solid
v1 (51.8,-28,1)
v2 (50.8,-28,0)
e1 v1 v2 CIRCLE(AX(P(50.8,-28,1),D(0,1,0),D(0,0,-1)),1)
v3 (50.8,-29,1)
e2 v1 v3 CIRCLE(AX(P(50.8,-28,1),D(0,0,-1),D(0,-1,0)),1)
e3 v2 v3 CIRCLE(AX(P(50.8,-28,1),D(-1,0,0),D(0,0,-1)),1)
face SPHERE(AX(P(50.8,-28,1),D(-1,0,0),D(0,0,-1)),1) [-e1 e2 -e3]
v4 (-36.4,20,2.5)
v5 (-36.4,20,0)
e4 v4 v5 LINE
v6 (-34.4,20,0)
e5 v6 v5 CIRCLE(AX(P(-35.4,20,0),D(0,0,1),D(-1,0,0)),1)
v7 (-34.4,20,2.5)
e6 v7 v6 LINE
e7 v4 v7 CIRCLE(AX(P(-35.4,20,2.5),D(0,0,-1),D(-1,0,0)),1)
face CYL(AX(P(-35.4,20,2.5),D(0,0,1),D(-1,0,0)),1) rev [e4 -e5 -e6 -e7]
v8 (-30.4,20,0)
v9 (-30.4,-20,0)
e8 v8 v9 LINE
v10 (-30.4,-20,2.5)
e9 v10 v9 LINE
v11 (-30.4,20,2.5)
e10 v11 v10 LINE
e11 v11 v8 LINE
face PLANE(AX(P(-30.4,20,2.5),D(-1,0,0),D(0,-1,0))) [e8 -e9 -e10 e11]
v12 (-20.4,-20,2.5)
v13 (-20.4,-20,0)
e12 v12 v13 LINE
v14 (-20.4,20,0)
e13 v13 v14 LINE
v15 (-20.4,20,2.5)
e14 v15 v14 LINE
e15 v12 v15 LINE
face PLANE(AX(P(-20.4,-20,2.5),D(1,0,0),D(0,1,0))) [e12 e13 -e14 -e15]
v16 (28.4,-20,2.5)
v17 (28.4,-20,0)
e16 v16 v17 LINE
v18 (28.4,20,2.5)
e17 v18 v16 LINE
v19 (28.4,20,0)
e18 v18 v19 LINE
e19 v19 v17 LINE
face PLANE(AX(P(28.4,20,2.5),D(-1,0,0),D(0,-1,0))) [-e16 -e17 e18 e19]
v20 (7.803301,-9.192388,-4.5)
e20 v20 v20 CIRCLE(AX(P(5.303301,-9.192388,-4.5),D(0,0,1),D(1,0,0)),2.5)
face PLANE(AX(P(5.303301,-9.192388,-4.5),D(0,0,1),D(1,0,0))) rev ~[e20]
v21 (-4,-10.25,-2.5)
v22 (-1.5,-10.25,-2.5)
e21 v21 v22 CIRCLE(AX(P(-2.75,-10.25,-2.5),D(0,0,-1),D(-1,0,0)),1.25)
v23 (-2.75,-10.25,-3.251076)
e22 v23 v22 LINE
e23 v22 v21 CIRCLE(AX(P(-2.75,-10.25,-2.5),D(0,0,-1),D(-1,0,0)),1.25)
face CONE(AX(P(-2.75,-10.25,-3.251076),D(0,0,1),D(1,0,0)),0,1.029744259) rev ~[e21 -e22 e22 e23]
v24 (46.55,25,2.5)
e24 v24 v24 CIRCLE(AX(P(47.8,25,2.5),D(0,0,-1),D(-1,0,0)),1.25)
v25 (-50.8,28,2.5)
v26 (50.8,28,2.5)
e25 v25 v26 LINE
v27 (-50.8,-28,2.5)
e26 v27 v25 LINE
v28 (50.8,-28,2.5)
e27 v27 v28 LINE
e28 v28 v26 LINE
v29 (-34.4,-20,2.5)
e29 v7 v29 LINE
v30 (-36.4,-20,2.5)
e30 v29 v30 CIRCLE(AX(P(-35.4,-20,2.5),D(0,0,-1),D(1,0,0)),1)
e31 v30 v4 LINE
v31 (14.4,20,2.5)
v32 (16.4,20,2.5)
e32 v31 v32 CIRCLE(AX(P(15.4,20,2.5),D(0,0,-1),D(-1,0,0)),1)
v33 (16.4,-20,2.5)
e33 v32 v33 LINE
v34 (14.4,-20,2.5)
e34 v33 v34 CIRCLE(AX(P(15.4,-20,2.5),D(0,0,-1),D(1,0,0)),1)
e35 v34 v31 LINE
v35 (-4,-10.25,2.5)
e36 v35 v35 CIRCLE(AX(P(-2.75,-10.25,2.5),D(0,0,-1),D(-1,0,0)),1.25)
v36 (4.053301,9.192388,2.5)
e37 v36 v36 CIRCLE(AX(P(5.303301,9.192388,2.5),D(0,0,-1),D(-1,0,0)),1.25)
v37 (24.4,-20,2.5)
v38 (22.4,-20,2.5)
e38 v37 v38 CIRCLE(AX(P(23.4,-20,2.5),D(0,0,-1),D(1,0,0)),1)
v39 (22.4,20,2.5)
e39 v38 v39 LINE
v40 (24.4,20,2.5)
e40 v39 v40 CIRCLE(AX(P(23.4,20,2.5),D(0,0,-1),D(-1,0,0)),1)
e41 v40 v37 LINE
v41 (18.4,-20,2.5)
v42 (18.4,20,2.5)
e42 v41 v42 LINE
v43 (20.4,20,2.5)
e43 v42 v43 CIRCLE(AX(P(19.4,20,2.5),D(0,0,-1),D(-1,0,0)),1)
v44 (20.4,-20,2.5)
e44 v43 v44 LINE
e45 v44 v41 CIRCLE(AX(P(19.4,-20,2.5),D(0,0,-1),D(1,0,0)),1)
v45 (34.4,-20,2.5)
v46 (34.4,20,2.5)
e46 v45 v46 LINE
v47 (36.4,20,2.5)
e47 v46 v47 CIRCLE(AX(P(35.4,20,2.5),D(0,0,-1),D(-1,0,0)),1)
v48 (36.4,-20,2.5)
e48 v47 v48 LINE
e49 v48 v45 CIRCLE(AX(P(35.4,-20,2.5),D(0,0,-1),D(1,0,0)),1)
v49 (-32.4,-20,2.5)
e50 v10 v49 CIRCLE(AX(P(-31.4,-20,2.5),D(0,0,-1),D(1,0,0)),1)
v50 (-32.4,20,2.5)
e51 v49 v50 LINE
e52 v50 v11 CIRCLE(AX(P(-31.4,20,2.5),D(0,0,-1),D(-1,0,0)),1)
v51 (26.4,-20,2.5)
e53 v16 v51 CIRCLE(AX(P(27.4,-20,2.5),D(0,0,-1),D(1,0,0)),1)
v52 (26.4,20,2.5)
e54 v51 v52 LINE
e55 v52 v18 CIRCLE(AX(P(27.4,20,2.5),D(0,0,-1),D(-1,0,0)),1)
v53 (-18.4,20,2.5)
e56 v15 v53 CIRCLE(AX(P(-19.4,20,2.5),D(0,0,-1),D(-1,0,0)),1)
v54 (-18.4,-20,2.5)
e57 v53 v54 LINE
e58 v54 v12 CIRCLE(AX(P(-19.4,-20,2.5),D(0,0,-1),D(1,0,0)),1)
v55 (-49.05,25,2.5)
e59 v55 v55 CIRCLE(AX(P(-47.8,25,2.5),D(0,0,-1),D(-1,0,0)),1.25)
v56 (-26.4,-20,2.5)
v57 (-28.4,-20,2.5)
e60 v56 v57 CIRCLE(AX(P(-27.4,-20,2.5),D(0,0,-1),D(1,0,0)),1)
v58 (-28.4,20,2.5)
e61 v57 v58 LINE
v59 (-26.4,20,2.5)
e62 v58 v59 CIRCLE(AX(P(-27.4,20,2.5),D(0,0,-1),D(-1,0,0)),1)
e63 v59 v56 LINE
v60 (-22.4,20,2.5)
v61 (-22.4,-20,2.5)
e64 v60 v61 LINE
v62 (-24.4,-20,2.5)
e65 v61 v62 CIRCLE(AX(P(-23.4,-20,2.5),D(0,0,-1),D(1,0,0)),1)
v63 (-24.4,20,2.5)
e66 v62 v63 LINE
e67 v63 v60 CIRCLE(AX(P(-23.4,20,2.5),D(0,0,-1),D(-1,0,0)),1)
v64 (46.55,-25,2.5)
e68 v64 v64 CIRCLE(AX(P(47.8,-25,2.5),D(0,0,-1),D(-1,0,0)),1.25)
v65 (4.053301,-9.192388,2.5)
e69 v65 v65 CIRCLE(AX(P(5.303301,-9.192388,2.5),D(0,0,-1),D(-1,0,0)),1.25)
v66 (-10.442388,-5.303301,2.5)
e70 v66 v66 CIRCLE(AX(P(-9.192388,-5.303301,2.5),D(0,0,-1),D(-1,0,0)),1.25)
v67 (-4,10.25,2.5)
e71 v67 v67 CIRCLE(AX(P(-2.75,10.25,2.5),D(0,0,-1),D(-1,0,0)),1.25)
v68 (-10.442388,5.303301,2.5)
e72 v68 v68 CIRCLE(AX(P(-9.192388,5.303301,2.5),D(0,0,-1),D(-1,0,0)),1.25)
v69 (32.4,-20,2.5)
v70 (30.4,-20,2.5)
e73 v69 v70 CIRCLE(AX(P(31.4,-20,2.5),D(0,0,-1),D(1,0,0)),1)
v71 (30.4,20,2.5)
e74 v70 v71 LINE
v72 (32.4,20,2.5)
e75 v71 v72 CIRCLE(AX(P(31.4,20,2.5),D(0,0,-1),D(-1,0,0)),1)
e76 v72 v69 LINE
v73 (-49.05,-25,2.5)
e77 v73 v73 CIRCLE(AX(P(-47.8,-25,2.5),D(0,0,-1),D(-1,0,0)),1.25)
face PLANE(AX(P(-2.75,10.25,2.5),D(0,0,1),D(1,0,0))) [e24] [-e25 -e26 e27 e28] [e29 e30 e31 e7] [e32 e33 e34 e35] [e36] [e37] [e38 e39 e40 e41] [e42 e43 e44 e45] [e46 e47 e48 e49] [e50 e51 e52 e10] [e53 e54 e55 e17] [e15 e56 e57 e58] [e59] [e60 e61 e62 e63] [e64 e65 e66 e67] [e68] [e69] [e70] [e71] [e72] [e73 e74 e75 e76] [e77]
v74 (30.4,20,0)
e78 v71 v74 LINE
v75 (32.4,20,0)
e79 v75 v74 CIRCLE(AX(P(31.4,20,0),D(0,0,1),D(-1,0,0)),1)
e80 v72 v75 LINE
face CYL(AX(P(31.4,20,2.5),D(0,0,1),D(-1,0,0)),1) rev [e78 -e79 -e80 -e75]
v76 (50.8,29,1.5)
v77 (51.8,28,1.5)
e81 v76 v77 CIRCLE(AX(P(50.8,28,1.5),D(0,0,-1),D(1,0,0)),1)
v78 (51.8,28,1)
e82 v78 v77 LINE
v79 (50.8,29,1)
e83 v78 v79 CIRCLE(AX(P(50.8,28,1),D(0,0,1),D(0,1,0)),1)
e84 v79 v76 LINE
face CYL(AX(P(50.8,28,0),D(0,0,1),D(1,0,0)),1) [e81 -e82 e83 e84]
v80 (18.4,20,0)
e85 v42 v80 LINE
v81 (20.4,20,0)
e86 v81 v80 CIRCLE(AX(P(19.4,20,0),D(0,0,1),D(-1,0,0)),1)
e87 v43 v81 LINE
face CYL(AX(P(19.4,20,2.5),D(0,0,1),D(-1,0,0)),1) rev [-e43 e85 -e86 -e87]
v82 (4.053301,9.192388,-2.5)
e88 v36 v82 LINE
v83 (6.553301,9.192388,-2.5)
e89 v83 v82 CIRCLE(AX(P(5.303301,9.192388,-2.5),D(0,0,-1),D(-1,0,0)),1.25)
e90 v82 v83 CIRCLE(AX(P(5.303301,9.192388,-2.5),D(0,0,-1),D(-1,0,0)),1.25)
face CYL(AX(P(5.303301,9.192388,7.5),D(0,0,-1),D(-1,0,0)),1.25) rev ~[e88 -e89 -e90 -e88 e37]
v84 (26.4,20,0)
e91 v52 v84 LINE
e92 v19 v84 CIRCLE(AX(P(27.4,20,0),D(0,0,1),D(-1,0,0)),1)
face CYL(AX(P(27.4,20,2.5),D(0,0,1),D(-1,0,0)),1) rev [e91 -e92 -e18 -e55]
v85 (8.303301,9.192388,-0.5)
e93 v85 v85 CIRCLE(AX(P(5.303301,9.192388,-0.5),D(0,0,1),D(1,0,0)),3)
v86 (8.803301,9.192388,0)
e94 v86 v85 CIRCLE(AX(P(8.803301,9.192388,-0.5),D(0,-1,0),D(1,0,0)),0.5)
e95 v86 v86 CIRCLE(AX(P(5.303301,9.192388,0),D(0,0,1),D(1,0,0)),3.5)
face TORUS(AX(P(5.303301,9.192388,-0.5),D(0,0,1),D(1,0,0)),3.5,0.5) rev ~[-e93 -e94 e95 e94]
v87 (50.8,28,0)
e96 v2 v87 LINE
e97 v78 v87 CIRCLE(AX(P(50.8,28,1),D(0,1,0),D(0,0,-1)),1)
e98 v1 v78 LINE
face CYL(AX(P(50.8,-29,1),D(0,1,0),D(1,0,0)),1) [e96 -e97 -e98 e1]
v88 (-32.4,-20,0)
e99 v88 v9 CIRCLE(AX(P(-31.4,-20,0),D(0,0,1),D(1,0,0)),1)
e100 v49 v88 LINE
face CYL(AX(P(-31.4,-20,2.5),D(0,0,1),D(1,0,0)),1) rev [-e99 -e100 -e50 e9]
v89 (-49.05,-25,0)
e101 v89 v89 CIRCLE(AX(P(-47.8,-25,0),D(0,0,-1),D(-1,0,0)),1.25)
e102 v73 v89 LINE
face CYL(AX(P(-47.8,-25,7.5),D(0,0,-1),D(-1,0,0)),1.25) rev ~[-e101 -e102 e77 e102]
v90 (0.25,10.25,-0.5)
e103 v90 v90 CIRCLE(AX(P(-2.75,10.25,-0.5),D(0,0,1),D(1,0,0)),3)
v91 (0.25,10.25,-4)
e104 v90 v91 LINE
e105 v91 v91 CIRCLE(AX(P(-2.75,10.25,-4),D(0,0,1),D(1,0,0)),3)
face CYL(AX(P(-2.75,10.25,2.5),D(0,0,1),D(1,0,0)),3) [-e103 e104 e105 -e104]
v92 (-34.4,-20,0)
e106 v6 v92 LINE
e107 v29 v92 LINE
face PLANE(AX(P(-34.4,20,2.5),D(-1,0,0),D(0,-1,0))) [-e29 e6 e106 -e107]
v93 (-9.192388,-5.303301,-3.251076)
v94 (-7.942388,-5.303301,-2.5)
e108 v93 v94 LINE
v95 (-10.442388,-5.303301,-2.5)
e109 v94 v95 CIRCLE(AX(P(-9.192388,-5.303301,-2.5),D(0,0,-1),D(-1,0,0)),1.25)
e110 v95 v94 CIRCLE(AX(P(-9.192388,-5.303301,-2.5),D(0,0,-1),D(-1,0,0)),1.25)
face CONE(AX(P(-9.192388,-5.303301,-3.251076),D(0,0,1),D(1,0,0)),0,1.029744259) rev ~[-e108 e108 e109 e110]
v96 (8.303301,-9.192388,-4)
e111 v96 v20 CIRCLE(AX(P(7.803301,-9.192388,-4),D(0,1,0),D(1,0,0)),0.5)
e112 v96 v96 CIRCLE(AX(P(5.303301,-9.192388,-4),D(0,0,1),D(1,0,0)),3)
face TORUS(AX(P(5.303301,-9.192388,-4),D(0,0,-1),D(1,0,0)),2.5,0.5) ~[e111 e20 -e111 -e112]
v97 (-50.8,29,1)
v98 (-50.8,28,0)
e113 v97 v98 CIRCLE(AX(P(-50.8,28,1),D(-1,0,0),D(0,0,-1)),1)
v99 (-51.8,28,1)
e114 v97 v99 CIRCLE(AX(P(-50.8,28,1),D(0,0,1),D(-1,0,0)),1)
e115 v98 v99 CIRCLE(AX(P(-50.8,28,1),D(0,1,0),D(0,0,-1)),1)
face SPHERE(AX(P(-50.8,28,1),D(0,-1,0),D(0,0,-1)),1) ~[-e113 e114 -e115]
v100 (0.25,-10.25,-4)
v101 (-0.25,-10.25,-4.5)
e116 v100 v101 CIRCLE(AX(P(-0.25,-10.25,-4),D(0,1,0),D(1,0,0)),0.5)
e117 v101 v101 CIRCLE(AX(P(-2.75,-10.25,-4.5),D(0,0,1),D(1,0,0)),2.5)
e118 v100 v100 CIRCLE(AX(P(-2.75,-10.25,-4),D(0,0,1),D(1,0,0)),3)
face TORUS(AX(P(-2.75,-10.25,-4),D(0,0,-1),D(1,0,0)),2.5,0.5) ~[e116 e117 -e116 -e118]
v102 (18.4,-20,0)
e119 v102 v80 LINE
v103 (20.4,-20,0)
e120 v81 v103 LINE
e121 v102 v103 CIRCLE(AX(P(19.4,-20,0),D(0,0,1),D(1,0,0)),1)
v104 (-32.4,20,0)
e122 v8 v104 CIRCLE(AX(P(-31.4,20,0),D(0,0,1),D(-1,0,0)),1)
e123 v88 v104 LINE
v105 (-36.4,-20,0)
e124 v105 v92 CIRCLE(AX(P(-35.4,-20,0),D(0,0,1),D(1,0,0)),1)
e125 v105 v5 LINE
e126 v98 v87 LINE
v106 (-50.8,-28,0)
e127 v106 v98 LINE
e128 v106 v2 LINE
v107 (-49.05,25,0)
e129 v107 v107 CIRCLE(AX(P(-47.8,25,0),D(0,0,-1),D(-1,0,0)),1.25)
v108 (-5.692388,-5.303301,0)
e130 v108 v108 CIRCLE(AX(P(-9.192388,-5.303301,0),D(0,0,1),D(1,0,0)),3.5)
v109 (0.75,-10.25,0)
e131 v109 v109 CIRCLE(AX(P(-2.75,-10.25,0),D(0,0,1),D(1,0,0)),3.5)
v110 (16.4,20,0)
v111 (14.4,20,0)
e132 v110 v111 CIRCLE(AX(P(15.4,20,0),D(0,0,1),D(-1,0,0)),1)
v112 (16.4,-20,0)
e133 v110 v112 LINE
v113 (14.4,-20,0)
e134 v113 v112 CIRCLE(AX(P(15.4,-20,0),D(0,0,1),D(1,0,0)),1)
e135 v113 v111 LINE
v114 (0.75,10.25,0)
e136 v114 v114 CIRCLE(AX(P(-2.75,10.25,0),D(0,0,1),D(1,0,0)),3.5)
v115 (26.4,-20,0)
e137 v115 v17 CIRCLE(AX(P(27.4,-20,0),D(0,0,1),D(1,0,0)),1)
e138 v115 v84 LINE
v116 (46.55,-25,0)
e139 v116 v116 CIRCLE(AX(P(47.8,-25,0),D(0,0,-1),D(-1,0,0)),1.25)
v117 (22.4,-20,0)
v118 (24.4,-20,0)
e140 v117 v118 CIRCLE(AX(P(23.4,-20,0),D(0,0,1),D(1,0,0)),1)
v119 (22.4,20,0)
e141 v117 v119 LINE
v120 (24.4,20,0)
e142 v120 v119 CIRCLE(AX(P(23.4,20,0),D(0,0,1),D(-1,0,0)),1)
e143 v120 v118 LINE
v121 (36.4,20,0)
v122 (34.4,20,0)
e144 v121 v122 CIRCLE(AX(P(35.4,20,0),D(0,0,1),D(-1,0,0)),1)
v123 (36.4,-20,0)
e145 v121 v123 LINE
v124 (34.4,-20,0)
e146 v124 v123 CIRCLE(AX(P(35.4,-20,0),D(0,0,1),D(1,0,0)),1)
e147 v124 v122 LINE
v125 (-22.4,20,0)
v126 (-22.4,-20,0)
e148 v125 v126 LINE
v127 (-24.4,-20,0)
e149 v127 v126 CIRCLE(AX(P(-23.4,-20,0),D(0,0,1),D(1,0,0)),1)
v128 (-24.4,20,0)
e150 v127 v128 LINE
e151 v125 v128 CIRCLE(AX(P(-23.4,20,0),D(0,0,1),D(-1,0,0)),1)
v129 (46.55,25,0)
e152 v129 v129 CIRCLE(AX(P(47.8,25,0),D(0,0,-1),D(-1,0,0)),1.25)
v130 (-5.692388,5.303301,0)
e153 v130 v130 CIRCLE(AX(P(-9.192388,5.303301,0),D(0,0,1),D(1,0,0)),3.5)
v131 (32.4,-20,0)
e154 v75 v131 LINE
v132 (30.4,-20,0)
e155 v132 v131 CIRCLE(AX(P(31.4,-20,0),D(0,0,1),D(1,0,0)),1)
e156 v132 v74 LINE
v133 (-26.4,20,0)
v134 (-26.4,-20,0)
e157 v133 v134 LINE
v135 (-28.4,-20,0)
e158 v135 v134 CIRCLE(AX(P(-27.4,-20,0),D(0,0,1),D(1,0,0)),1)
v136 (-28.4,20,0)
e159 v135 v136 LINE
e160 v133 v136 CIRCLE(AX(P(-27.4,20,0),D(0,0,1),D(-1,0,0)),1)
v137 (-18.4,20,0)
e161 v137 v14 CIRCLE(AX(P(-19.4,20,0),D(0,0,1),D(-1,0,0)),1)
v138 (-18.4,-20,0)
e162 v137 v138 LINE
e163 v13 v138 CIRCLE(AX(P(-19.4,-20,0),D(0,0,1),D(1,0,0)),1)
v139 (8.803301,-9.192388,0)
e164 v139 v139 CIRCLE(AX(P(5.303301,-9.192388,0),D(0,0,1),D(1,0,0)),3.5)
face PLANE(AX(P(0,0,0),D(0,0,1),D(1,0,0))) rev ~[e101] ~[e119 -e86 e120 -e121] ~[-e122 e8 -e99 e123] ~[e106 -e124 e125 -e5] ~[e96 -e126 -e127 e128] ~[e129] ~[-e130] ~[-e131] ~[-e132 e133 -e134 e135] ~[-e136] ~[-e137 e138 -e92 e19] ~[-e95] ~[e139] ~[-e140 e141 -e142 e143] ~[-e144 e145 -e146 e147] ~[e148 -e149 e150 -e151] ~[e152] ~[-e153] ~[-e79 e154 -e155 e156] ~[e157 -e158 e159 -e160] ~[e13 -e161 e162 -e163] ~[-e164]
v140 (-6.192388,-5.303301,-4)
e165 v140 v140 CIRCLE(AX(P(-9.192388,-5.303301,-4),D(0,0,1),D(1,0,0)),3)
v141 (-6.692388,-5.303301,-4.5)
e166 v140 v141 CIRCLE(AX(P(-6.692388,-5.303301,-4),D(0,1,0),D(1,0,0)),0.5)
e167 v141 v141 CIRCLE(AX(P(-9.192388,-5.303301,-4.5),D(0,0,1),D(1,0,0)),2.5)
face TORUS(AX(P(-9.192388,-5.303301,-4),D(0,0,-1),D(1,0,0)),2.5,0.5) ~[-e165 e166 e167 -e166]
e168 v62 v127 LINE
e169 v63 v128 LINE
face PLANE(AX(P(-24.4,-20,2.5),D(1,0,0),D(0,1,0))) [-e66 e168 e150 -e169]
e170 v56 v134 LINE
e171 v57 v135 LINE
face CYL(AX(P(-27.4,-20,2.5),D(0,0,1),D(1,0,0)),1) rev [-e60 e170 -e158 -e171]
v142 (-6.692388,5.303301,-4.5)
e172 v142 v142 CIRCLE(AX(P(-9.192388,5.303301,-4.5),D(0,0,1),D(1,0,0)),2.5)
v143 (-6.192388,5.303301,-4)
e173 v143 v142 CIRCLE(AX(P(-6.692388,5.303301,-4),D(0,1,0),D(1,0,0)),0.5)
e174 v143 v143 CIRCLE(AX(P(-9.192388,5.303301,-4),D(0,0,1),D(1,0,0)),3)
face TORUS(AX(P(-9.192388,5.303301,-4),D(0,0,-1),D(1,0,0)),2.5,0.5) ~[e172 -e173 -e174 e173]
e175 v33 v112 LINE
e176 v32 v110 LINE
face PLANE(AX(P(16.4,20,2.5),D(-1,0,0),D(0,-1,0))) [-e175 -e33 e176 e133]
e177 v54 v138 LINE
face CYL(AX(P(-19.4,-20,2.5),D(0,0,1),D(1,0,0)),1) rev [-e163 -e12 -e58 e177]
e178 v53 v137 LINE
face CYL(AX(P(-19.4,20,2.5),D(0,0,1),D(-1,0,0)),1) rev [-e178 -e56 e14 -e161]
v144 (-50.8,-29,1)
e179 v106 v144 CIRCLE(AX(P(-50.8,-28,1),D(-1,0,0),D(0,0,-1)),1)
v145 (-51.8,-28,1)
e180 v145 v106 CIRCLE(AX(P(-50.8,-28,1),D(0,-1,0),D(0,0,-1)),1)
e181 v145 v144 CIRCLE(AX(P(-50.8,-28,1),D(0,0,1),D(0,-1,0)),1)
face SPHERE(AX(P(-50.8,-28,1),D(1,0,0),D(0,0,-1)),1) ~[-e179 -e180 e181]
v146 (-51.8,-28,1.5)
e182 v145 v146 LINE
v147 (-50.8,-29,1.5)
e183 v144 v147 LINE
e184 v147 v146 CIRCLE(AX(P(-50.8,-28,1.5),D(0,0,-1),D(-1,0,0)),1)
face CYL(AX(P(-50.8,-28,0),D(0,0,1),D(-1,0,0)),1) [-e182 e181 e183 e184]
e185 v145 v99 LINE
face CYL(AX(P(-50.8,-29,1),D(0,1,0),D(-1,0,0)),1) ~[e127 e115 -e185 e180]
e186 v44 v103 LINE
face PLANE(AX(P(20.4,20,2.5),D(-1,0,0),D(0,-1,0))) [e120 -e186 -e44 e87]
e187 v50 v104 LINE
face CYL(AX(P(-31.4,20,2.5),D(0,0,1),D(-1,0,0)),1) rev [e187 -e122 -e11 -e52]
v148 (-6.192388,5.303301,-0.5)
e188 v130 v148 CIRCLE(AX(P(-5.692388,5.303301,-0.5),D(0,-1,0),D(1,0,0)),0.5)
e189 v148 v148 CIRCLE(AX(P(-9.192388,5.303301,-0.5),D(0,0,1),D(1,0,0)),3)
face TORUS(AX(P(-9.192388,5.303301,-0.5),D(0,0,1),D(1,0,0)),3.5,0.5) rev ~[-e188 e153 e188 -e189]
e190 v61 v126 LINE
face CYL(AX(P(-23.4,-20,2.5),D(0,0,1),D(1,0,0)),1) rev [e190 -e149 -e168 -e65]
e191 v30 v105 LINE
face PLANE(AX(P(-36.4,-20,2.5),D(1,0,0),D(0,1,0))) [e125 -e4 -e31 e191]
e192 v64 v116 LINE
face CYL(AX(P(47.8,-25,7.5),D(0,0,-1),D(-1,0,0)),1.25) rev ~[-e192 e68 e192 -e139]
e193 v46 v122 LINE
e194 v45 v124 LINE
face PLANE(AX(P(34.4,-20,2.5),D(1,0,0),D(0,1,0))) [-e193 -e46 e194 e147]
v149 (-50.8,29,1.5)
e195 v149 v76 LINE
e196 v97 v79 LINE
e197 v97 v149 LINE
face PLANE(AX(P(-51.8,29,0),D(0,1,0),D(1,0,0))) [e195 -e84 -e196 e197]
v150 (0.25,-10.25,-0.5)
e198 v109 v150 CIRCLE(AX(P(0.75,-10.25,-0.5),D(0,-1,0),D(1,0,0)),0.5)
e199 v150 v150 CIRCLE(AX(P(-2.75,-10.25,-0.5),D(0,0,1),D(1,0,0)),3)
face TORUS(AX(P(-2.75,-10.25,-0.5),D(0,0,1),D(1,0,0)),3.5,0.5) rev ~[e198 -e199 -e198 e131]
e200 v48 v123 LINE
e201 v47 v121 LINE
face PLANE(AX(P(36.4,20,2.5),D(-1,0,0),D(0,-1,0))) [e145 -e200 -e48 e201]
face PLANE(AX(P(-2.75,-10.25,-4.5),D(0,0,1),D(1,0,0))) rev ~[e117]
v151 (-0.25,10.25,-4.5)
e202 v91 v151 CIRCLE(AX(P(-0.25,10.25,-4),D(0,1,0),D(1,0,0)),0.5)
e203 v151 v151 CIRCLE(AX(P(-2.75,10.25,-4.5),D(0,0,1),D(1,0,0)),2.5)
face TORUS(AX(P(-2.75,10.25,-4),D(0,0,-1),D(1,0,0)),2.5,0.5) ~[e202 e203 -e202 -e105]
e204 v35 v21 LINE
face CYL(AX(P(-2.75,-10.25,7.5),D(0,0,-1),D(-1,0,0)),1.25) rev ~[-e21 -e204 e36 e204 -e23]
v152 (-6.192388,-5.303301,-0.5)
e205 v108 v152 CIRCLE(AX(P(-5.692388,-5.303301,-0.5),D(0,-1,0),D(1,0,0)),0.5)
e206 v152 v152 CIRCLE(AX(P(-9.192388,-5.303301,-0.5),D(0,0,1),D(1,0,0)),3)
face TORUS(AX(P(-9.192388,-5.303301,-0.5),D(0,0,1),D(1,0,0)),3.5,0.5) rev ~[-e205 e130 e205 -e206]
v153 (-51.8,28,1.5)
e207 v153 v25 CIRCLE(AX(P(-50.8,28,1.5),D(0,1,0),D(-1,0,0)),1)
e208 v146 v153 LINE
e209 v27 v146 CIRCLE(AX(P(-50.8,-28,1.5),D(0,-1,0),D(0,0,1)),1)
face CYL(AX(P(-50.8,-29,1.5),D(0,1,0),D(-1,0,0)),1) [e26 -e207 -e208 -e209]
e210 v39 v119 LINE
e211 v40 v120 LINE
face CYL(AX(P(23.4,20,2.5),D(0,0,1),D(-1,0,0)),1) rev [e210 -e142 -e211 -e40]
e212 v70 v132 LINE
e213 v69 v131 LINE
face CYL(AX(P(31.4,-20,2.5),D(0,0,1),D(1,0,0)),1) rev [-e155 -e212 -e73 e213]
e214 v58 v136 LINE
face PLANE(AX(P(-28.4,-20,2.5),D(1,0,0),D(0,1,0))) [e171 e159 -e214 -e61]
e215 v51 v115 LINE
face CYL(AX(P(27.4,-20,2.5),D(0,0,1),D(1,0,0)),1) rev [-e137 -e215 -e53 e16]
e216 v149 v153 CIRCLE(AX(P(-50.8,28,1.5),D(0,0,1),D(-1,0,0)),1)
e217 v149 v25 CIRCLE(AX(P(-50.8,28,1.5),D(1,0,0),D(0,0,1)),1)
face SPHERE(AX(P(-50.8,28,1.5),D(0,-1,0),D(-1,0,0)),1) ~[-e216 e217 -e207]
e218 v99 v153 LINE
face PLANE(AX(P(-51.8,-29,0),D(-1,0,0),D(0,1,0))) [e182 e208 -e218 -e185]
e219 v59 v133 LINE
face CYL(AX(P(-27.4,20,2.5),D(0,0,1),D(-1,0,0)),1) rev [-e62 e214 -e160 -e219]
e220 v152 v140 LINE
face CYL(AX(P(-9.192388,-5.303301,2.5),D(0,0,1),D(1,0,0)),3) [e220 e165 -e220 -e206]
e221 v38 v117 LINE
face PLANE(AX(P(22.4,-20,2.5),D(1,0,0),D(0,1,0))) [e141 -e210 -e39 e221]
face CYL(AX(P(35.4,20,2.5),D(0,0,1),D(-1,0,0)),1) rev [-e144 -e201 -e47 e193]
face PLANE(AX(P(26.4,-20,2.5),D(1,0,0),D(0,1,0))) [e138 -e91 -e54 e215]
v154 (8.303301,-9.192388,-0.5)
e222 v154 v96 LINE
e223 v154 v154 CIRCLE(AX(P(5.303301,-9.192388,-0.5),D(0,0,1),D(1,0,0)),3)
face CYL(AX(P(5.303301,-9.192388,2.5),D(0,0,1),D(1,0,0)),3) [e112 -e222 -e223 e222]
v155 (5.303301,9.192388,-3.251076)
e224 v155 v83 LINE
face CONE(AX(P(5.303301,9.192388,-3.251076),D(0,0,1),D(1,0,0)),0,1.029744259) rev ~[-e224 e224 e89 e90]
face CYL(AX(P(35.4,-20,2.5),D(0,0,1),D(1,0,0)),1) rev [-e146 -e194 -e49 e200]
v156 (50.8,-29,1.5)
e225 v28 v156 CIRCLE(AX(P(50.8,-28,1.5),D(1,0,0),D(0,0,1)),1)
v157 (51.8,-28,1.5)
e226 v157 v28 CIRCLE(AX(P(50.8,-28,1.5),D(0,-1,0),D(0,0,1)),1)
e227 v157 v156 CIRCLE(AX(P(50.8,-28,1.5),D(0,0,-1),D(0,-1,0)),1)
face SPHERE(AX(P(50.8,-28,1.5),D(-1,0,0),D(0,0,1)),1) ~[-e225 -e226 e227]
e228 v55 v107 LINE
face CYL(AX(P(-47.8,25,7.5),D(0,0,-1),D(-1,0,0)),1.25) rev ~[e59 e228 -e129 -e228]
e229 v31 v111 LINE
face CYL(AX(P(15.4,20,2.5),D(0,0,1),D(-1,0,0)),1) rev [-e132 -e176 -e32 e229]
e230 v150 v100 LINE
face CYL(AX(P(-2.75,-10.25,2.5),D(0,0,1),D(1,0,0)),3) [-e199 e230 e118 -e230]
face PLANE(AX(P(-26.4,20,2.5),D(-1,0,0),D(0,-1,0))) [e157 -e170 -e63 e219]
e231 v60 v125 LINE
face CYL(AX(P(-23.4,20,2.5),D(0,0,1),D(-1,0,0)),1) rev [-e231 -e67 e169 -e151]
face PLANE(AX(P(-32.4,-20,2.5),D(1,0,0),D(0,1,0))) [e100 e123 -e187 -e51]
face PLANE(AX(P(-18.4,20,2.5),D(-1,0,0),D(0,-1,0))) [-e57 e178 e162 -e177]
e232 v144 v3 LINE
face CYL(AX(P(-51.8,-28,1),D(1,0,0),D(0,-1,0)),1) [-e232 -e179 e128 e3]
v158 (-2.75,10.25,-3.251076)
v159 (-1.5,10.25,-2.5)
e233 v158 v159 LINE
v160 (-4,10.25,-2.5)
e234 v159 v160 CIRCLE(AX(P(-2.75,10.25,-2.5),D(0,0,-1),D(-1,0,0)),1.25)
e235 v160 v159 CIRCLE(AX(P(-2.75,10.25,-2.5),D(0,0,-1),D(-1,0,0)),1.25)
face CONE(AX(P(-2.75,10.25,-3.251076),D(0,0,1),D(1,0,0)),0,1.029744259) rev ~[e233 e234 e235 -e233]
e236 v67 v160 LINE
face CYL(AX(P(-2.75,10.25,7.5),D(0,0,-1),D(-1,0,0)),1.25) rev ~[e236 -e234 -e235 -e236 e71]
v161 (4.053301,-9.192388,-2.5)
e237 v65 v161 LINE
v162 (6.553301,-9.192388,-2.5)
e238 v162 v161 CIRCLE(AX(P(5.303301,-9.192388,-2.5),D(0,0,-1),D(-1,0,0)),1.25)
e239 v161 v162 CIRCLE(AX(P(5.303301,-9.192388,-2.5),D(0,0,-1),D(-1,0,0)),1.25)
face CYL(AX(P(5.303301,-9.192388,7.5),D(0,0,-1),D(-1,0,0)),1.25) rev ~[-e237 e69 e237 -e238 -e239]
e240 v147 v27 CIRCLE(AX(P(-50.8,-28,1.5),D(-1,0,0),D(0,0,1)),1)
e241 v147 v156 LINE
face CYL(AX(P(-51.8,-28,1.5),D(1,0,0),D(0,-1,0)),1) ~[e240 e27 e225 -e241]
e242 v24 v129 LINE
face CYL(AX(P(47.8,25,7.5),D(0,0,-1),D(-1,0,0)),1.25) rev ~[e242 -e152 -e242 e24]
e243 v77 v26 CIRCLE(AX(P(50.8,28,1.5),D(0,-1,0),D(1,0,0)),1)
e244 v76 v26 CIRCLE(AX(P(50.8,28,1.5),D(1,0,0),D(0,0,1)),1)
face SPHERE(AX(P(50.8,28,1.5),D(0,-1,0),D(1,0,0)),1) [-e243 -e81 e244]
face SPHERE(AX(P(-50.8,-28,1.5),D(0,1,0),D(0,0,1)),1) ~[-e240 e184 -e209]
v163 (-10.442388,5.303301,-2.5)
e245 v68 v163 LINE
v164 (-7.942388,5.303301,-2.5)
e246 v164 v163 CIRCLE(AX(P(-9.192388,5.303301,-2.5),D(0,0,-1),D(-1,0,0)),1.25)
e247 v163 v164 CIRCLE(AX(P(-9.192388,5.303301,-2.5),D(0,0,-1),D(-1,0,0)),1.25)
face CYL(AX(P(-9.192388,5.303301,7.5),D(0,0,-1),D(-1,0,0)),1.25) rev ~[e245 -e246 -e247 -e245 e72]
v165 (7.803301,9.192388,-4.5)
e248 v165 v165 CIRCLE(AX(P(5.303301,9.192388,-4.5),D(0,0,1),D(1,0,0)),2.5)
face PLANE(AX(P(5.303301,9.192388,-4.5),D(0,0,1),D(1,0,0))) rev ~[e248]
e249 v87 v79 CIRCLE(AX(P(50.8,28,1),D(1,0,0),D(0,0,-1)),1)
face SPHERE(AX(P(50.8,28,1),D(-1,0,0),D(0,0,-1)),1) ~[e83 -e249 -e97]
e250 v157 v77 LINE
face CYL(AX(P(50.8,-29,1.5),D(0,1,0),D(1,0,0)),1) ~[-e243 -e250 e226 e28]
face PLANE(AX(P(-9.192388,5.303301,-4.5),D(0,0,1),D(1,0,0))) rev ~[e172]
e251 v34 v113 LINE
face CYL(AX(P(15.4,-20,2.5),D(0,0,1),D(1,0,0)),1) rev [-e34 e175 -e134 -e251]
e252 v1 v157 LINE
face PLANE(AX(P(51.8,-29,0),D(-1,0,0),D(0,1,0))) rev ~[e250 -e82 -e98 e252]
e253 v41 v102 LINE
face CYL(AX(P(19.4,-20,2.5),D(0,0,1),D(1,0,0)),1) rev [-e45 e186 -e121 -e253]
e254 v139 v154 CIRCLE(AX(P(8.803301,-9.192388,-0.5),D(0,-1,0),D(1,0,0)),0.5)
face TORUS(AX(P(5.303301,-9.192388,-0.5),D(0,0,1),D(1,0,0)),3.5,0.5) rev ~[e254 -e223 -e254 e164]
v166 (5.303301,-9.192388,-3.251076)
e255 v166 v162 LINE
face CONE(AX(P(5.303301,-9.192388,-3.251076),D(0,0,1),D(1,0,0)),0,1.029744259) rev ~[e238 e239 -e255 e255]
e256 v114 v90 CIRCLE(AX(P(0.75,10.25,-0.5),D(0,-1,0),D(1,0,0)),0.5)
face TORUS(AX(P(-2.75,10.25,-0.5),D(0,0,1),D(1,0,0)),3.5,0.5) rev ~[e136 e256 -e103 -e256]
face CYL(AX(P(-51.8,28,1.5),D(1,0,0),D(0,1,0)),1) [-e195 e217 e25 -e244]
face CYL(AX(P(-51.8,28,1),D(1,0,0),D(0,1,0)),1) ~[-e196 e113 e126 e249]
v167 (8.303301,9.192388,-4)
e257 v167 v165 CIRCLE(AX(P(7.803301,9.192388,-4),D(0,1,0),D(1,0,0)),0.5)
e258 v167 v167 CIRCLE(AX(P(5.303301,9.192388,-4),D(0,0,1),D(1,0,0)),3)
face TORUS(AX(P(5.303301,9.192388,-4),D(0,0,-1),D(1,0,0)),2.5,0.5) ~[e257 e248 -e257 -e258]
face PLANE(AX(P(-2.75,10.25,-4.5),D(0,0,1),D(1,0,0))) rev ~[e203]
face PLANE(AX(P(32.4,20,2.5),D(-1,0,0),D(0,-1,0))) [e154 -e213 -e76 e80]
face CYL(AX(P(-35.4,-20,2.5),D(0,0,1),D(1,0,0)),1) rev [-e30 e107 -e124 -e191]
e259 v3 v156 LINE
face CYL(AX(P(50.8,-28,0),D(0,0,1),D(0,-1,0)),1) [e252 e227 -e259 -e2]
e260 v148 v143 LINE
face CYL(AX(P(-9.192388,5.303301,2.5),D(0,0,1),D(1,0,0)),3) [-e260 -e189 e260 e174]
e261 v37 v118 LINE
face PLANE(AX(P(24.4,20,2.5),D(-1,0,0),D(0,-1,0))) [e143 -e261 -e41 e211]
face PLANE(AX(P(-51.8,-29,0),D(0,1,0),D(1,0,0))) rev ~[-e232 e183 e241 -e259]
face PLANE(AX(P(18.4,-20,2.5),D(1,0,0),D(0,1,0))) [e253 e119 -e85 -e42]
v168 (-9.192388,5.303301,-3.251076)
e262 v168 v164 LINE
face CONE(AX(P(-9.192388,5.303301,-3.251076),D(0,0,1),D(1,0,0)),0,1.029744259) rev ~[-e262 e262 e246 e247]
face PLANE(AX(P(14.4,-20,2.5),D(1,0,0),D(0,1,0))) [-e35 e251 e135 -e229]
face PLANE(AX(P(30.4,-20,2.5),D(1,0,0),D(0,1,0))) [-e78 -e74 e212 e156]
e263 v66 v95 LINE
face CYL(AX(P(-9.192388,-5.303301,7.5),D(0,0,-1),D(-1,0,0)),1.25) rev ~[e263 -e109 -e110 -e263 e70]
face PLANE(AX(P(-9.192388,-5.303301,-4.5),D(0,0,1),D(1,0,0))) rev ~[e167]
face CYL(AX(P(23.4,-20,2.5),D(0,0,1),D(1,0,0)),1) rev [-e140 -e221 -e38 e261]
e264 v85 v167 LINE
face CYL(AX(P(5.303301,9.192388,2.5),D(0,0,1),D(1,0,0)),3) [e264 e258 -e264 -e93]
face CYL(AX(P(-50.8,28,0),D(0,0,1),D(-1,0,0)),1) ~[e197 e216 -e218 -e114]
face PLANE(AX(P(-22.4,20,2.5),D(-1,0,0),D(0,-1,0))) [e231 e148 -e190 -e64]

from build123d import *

# Parameters (mm, degrees)
ESQUISSE1_W                                   = 103.6
ESQUISSE1_H                                   = 58
BOSS_EXTRU_1_DEPTH                            = 2.5
CONG_3_R                                      = 1
ESQUISSE32_R                                  = 3
BOSS_EXTRU_8_DEPTH                            = 7
ESQUISSE26_R                                  = 3
BOSS_EXTRU_10_DEPTH                           = 7
ESQUISSE17_R                                  = 3
BOSS_EXTRU_7_DEPTH                            = 7
TROU_POUR_TARAUDAGE_POUR_TROU_TARAUD_M3_D     = 2.5
TROU_POUR_TARAUDAGE_POUR_TROU_TARAUD_M3_DEPTH = 5
TROU_POUR_TARAUDAGE_POUR_TROU_TARAUD_M3_TIP   = 0.751075774
TROU_POUR_TARAUDAGE_POUR_TROU_TARAUD_2_D      = 2.5
TROU_POUR_TARAUDAGE_POUR_TROU_TARAUD_2_DEPTH  = 5
TROU_POUR_TARAUDAGE_POUR_TROU_TARAUD_2_TIP    = 0.751075774
TROU_POUR_TARAUDAGE_POUR_TROU_TARAUD_3_D      = 2.5
TROU_POUR_TARAUDAGE_POUR_TROU_TARAUD_3_DEPTH  = 5
TROU_POUR_TARAUDAGE_POUR_TROU_TARAUD_3_TIP    = 0.751075774
CONG_5_R                                      = 0.5
TROU_POUR_TARAUDAGE_POUR_TROU_TARAUD_4_D      = 2.5
TROU_POUR_TARAUDAGE_POUR_TROU_TARAUD_4_DEPTH  = 5
TROU_POUR_TARAUDAGE_POUR_TROU_TARAUD_4_TIP    = 0.751075774
ENL_V_MAT_EXTRU_2_DEPTH                       = 60.776584044
R_P_TITION_LIN_AIRE1_COUNT                    = 6
R_P_TITION_LIN_AIRE1_PITCH                    = 4
ENL_V_MAT_EXTRU_3_DEPTH                       = 60.776584044
R_P_TITION_LIN_AIRE2_COUNT                    = 5
R_P_TITION_LIN_AIRE2_PITCH                    = 4


with BuildPart() as part:
    # Esquisse1 → Boss.-Extru.1 (new body)
    with BuildSketch(Plane.XY):
        Rectangle(ESQUISSE1_W, ESQUISSE1_H)
    extrude(amount=BOSS_EXTRU_1_DEPTH)

    # Congé3
    cong_3_edges = [part.edges().sort_by_distance(p)[0] for p in [
        (-51.8, 0, 2.5),
        (0, -29, 2.5),
        (51.8, 0, 2.5),
        (0, -29, 0),
        (-51.8, 0, 0),
        (0, 29, 0),
        (51.8, 0, 0),
        (51.8, -29, 1.25),
        (-51.8, -29, 1.25),
        (-51.8, 29, 1.25),
        (51.8, 29, 1.25),
        (0, 29, 2.5),
    ]]
    fillet(cong_3_edges, radius=CONG_3_R)

    # Esquisse32 → Boss.-Extru.8 (add)
    with BuildSketch(Plane.XY.offset(2.5)):
        with Locations((5.303300859, 9.192388155)):
            Circle(ESQUISSE32_R)
        with Locations((-9.192388155, -5.303300859)):
            Circle(ESQUISSE32_R)
    extrude(amount=-BOSS_EXTRU_8_DEPTH)

    # Esquisse26 → Boss.-Extru.10 (add)
    with BuildSketch(Plane.XY.offset(2.5)):
        with Locations((-9.192388155, 5.303300859)):
            Circle(ESQUISSE26_R)
        with Locations((5.303300859, -9.192388155)):
            Circle(ESQUISSE26_R)
    extrude(amount=-BOSS_EXTRU_10_DEPTH)

    # Esquisse17 → Boss.-Extru.7 (add)
    with BuildSketch(Plane.XY.offset(2.5)):
        with Locations((-2.75, 10.25)):
            Circle(ESQUISSE17_R)
        with Locations((-2.75, -10.25)):
            Circle(ESQUISSE17_R)
    extrude(amount=-BOSS_EXTRU_7_DEPTH)

    # Trou pour taraudage pour trou taraud_ M3
    with Locations(Plane(origin=(-2.75, -10.25, 2.5), x_dir=(1, 0, 0), z_dir=(0, 0, 1))):
        with Locations((0, 0), (0, 20.5)):
            Hole(TROU_POUR_TARAUDAGE_POUR_TROU_TARAUD_M3_D / 2, depth=TROU_POUR_TARAUDAGE_POUR_TROU_TARAUD_M3_DEPTH)
            with Locations((0, 0, -(TROU_POUR_TARAUDAGE_POUR_TROU_TARAUD_M3_DEPTH + TROU_POUR_TARAUDAGE_POUR_TROU_TARAUD_M3_TIP / 2))):  # 118° drill point
                Cone(0, TROU_POUR_TARAUDAGE_POUR_TROU_TARAUD_M3_D / 2, TROU_POUR_TARAUDAGE_POUR_TROU_TARAUD_M3_TIP, mode=Mode.SUBTRACT)

    # Trou pour taraudage pour trou taraud 2
    with Locations(Plane(origin=(-9.192388155, 5.303300859, 2.5), x_dir=(1, 0, 0), z_dir=(0, 0, 1))):
        with Locations((0, 0), (14.495689014, -14.495689014)):
            Hole(TROU_POUR_TARAUDAGE_POUR_TROU_TARAUD_2_D / 2, depth=TROU_POUR_TARAUDAGE_POUR_TROU_TARAUD_2_DEPTH)
            with Locations((0, 0, -(TROU_POUR_TARAUDAGE_POUR_TROU_TARAUD_2_DEPTH + TROU_POUR_TARAUDAGE_POUR_TROU_TARAUD_2_TIP / 2))):  # 118° drill point
                Cone(0, TROU_POUR_TARAUDAGE_POUR_TROU_TARAUD_2_D / 2, TROU_POUR_TARAUDAGE_POUR_TROU_TARAUD_2_TIP, mode=Mode.SUBTRACT)

    # Trou pour taraudage pour trou taraud 3
    with Locations(Plane(origin=(5.303300859, 9.192388155, 2.5), x_dir=(1, 0, 0), z_dir=(0, 0, 1))):
        with Locations((0, 0), (-14.495689014, -14.495689014)):
            Hole(TROU_POUR_TARAUDAGE_POUR_TROU_TARAUD_3_D / 2, depth=TROU_POUR_TARAUDAGE_POUR_TROU_TARAUD_3_DEPTH)
            with Locations((0, 0, -(TROU_POUR_TARAUDAGE_POUR_TROU_TARAUD_3_DEPTH + TROU_POUR_TARAUDAGE_POUR_TROU_TARAUD_3_TIP / 2))):  # 118° drill point
                Cone(0, TROU_POUR_TARAUDAGE_POUR_TROU_TARAUD_3_D / 2, TROU_POUR_TARAUDAGE_POUR_TROU_TARAUD_3_TIP, mode=Mode.SUBTRACT)

    # Congé5
    cong_5_edges = [part.edges().sort_by_distance(p)[0] for p in [
        (-12.192388155, -5.303300859, -4.5),
        (-12.192388155, -5.303300859, 0),
        (2.303300859, 9.192388155, -4.5),
        (2.303300859, 9.192388155, 0),
        (2.303300859, -9.192388155, -4.5),
        (2.303300859, -9.192388155, 0),
        (-12.192388155, 5.303300859, -4.5),
        (-12.192388155, 5.303300859, 0),
        (-5.75, 10.25, -4.5),
        (-5.75, 10.25, 0),
        (-5.75, -10.25, -4.5),
        (-5.75, -10.25, 0),
    ]]
    fillet(cong_5_edges, radius=CONG_5_R)

    # Trou pour taraudage pour trou taraud 4
    with Locations(Plane(origin=(47.8, 25, 2.5), x_dir=(1, 0, 0), z_dir=(0, 0, 1))):
        with Locations((0, 0), (0, -50), (-95.6, -50), (-95.6, 0)):
            Hole(TROU_POUR_TARAUDAGE_POUR_TROU_TARAUD_4_D / 2, depth=TROU_POUR_TARAUDAGE_POUR_TROU_TARAUD_4_DEPTH)
            with Locations((0, 0, -(TROU_POUR_TARAUDAGE_POUR_TROU_TARAUD_4_DEPTH + TROU_POUR_TARAUDAGE_POUR_TROU_TARAUD_4_TIP / 2))):  # 118° drill point
                Cone(0, TROU_POUR_TARAUDAGE_POUR_TROU_TARAUD_4_D / 2, TROU_POUR_TARAUDAGE_POUR_TROU_TARAUD_4_TIP, mode=Mode.SUBTRACT)

    # Esquisse36 → Enlèv. mat.-Extru.2 (cut, through all)
    with BuildSketch(Plane.XY.offset(2.5)):
        with BuildLine():
            Line((36.4, 20), (36.4, -20))
            ThreePointArc((36.4, -20), (35.4, -21), (34.4, -20))
            Line((34.4, -20), (34.4, 20))
            ThreePointArc((34.4, 20), (35.4, 21), (36.4, 20))
        make_face()
    enl_v_mat_extru_2 = extrude(amount=-ENL_V_MAT_EXTRU_2_DEPTH, mode=Mode.SUBTRACT)

    # Répétition linéaire1: Enlèv. mat.-Extru.2 ×6
    with Locations(*[(-i * R_P_TITION_LIN_AIRE1_PITCH, 0, 0) for i in range(1, R_P_TITION_LIN_AIRE1_COUNT)]):
        add(enl_v_mat_extru_2, mode=Mode.SUBTRACT)

    # Esquisse37 → Enlèv. mat.-Extru.3 (cut, through all)
    with BuildSketch(Plane.XY.offset(2.5)):
        with BuildLine():
            Line((-34.4, 20), (-34.4, -20))
            ThreePointArc((-34.4, -20), (-35.4, -21), (-36.4, -20))
            Line((-36.4, -20), (-36.4, 20))
            ThreePointArc((-36.4, 20), (-35.4, 21), (-34.4, 20))
        make_face()
    enl_v_mat_extru_3 = extrude(amount=-ENL_V_MAT_EXTRU_3_DEPTH, mode=Mode.SUBTRACT)

    # Répétition linéaire2: Enlèv. mat.-Extru.3 ×5
    with Locations(*[(i * R_P_TITION_LIN_AIRE2_PITCH, 0, 0) for i in range(1, R_P_TITION_LIN_AIRE2_COUNT)]):
        add(enl_v_mat_extru_3, mode=Mode.SUBTRACT)


solid = part.part
